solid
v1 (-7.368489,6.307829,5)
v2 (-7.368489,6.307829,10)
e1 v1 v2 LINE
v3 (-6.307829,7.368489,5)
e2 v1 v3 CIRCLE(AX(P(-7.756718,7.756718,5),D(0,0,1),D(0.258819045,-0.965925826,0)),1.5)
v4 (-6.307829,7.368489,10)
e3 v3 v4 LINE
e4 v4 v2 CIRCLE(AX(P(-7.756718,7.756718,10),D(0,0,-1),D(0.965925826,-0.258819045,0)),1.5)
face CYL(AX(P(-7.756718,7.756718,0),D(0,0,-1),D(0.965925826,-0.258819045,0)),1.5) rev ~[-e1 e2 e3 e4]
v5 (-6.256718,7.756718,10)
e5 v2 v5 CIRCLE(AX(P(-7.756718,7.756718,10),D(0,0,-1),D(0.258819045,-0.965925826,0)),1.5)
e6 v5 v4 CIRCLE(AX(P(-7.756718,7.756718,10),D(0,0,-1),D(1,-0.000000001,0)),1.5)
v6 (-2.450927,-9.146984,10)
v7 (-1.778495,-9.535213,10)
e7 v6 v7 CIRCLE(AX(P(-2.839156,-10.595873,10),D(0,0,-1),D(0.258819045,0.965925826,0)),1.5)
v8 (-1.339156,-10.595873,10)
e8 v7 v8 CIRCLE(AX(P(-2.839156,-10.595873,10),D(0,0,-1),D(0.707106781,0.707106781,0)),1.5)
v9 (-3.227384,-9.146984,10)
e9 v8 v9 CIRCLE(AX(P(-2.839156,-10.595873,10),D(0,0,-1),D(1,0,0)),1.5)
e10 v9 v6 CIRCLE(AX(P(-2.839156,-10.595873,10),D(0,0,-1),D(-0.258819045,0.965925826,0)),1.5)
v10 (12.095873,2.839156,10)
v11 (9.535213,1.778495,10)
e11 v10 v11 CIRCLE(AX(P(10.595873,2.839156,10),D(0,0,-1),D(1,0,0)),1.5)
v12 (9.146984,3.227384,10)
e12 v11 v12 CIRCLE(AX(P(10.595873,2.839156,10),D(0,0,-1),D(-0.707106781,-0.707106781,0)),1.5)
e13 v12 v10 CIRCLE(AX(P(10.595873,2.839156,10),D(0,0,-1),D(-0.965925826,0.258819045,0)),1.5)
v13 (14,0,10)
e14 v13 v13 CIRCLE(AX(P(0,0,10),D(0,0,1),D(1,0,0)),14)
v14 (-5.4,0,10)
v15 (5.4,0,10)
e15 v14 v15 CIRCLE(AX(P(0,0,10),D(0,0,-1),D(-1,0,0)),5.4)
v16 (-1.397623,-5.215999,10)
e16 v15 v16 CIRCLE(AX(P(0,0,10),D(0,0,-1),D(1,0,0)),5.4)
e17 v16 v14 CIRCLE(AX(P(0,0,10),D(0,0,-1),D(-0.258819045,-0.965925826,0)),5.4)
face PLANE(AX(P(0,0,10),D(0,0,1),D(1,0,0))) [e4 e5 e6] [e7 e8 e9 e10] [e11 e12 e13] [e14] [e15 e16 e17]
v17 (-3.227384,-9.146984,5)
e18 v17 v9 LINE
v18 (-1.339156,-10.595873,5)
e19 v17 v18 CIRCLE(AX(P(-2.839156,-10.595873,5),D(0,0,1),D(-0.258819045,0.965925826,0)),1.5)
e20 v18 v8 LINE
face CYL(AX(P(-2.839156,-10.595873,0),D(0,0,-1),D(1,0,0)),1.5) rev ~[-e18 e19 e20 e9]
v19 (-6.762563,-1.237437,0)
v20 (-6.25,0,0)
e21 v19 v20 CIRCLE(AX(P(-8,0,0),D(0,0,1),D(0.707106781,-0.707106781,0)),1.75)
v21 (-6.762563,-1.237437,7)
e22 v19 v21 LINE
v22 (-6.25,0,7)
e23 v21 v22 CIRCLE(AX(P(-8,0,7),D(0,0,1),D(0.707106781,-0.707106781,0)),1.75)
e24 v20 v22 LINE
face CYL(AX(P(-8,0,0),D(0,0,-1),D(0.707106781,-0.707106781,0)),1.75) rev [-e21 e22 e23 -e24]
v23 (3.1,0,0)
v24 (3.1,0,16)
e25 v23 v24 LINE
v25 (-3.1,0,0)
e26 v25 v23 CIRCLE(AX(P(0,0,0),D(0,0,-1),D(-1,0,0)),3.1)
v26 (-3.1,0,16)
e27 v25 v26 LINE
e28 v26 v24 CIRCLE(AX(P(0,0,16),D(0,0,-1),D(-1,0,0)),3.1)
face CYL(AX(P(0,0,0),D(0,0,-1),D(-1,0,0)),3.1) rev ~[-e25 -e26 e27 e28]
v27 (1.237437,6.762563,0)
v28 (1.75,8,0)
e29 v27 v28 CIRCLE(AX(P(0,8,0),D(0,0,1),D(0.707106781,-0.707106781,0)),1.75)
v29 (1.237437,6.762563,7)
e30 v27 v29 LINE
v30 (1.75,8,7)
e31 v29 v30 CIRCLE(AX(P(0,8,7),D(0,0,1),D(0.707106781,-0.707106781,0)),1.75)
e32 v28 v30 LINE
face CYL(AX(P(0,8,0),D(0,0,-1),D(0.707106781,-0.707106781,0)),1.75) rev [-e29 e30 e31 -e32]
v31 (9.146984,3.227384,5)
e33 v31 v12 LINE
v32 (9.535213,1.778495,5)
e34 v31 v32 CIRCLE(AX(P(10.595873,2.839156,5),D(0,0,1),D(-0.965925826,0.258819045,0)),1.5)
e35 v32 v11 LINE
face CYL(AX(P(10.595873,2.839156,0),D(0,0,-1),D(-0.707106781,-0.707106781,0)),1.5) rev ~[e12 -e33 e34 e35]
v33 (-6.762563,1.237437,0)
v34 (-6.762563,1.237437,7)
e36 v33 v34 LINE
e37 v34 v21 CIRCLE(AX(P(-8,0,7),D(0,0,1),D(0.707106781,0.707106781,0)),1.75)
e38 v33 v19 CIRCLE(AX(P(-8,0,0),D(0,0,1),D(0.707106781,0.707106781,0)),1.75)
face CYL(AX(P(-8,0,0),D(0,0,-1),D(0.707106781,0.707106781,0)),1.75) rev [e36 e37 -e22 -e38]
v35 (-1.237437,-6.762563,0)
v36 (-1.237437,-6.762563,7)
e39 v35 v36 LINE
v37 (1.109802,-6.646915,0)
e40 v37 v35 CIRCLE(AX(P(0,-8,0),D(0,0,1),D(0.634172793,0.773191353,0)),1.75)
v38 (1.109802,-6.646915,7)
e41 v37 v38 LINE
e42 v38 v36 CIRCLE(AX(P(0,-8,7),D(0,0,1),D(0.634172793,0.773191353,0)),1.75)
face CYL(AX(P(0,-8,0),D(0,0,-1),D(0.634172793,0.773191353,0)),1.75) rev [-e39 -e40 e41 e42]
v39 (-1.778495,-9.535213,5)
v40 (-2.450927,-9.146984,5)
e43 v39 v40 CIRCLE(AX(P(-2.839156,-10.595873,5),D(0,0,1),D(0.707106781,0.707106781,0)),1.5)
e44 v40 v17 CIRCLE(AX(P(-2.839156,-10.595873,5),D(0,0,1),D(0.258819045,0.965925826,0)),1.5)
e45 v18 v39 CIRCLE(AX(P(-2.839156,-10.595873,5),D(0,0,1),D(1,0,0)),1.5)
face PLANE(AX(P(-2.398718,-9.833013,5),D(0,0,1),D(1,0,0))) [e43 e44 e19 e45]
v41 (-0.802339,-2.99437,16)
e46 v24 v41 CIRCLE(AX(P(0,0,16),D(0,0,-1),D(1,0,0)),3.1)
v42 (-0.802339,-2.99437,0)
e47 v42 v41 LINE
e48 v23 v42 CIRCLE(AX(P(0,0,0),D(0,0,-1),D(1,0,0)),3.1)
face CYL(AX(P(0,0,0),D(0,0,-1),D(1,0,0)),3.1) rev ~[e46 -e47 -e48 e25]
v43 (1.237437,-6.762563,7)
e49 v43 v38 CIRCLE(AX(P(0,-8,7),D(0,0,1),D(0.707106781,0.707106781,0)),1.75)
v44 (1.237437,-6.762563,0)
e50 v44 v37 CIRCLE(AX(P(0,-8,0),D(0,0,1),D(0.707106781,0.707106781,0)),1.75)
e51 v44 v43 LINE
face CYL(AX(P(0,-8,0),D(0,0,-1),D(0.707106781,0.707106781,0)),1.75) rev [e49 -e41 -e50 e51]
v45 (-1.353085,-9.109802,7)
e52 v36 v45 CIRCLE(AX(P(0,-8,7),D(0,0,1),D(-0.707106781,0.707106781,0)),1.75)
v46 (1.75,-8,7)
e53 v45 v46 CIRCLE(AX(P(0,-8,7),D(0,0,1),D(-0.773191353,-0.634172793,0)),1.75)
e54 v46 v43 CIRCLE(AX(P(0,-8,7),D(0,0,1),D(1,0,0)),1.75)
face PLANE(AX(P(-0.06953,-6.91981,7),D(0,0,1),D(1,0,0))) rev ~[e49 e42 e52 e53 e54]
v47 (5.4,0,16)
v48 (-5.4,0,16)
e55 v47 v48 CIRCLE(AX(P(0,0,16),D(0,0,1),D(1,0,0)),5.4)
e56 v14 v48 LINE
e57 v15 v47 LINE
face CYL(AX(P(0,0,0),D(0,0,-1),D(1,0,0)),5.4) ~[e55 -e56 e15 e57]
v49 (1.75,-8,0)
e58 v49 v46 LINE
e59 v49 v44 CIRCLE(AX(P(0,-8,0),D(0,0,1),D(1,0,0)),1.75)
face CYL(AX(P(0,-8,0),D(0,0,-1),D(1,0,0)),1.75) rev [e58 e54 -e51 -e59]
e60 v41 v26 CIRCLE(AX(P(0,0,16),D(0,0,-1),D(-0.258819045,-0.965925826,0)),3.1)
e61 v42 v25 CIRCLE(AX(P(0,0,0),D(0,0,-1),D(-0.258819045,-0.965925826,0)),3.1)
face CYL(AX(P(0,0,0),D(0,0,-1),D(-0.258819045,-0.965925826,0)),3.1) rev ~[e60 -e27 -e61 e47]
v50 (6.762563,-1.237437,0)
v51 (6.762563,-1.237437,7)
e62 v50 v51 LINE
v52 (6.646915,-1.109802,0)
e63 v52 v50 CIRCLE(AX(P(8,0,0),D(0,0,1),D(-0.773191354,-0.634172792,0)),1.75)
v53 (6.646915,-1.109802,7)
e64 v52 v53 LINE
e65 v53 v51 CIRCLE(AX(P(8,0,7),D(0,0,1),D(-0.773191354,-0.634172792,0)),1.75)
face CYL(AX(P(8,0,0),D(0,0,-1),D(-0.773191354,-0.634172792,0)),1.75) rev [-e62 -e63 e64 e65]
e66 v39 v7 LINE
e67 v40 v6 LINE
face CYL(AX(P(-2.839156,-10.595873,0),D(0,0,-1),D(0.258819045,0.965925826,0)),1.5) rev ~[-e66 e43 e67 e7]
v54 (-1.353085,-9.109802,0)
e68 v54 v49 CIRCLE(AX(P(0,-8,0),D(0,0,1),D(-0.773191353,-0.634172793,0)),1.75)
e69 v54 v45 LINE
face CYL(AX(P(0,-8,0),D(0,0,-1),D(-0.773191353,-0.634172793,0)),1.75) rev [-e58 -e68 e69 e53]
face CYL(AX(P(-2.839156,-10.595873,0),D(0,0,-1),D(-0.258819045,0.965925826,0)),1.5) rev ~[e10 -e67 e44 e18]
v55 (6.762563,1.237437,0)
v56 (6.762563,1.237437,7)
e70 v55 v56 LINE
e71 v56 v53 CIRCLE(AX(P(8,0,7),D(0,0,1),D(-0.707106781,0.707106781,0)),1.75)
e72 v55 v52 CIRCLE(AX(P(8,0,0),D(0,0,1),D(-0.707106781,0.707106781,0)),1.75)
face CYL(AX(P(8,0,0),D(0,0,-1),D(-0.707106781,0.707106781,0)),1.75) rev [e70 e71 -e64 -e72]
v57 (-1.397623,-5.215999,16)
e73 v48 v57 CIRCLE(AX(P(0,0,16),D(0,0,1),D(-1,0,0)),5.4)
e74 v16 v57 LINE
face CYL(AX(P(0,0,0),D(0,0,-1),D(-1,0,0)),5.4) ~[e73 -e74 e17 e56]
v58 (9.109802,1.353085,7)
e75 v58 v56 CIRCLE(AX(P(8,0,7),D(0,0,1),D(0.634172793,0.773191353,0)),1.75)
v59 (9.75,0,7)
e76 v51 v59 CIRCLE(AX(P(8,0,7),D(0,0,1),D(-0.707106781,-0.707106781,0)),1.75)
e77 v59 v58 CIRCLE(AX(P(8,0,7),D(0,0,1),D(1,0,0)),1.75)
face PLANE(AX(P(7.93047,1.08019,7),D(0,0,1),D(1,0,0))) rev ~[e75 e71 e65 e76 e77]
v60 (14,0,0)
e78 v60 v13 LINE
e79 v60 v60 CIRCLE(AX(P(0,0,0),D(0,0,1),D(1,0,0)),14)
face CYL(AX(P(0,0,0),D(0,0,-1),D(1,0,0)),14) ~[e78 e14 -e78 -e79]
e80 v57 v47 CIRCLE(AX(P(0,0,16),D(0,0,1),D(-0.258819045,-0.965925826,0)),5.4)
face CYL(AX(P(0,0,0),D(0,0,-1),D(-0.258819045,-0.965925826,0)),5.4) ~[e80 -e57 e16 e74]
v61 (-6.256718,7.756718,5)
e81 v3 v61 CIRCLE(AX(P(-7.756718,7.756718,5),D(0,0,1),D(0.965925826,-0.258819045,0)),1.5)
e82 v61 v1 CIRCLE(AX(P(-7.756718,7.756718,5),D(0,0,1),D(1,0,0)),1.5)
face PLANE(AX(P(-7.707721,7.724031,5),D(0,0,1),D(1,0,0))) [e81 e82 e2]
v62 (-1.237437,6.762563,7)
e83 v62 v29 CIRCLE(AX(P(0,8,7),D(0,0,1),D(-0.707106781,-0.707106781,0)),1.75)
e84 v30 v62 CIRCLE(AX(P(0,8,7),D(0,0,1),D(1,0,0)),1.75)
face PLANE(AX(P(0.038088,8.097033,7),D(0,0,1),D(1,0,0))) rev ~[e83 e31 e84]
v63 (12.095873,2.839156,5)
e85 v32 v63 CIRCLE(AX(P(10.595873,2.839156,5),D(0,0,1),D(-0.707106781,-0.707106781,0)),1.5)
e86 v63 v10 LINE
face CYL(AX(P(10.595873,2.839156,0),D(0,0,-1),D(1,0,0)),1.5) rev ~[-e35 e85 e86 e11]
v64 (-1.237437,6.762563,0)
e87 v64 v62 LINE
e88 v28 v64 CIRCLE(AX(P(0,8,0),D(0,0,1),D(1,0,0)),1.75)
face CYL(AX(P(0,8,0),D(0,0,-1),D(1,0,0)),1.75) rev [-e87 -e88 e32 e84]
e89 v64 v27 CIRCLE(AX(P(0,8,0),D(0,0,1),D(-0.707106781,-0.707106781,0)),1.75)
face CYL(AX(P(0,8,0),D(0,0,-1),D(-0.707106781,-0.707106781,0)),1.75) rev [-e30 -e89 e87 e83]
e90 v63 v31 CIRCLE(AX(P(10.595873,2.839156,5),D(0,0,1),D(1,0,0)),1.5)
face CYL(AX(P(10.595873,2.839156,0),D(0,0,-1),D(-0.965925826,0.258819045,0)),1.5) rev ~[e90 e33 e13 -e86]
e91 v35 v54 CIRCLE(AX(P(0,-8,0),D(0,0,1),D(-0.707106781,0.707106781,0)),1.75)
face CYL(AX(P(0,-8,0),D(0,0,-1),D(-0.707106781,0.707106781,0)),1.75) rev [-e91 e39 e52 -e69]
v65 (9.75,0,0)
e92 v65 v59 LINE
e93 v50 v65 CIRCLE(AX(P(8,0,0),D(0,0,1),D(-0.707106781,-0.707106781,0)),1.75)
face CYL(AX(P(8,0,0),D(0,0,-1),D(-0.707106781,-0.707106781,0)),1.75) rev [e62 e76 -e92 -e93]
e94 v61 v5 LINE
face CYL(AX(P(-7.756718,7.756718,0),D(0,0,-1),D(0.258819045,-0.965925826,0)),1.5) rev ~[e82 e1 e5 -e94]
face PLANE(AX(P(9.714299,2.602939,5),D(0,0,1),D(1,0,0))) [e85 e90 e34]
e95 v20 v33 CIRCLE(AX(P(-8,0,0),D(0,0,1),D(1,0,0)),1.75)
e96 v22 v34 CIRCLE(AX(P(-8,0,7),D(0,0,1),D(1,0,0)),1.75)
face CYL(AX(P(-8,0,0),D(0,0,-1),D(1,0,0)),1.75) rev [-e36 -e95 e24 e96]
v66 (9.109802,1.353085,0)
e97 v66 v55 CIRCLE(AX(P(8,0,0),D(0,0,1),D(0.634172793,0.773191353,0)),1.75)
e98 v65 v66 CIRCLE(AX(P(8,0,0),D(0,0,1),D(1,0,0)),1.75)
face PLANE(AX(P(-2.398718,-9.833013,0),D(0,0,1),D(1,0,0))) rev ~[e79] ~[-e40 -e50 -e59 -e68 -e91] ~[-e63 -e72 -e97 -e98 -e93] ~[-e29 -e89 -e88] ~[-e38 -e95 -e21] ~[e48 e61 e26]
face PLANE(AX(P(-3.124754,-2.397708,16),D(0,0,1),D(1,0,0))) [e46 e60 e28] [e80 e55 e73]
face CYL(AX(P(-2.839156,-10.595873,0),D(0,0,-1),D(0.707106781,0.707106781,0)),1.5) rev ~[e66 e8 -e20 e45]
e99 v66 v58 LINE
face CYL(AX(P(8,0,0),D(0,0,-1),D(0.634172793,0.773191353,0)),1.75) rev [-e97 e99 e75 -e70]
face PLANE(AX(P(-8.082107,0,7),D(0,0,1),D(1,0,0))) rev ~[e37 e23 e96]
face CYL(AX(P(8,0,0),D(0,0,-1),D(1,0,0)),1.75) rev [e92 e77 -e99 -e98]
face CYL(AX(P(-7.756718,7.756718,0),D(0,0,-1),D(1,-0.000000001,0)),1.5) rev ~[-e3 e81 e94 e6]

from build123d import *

# Parameters (mm, degrees)
F0_R     = 14
F1_DEPTH = 10
F2_DEPTH = 16
F3_DEPTH = 5
F4_DEPTH = 7


with BuildPart() as f1:
    # F0 (on Top) → F1 (new body)
    with BuildSketch(Plane.XY):
        Circle(F0_R)
        with BuildLine():
            Line((-3.2273842295, -9.1469844412), (-4.8285142885, -3.1714857115))
            Line((-4.8285142885, -3.1714857115), (-6.7625631329, -1.2374368671))
            ThreePointArc((-6.7625631329, -1.2374368671), (-9.75, 0), (-6.7625631329, 1.2374368671))
            Line((-6.7625631329, 1.2374368671), (-6.1689418708, 1.8310581292))
            Line((-6.1689418708, 1.8310581292), (-7.3684889512, 6.3078287794))
            ThreePointArc((-7.3684889512, 6.3078287794), (-8.9467475293, 8.6698596623), (-6.2567175188, 7.7567175188))
            ThreePointArc((-6.2567175188, 7.7567175188), (-6.2695502268, 7.5609282305), (-6.3078287794, 7.3684889512))
            Line((-6.3078287794, 7.3684889512), (-1.8310581292, 6.1689418708))
            Line((-1.8310581292, 6.1689418708), (-1.2374368671, 6.7625631329))
            ThreePointArc((-1.2374368671, 6.7625631329), (-0.6696960066, 9.6167891819), (1.75, 8))
            ThreePointArc((1.75, 8), (1.6167891819, 7.3303039934), (1.2374368671, 6.7625631329))
            Line((1.2374368671, 6.7625631329), (3.1714857115, 4.8285142885))
            Line((3.1714857115, 4.8285142885), (9.1469844412, 3.2273842295))
            ThreePointArc((9.1469844412, 3.2273842295), (10.791662469, 4.3263229539), (12.0958731807, 2.8391556619))
            ThreePointArc((12.0958731807, 2.8391556619), (11.1698983292, 1.4533363631), (9.5352130089, 1.7784954901))
            Line((9.5352130089, 1.7784954901), (9.1098023873, 1.3530848684))
            ThreePointArc((9.1098023873, 1.3530848684), (9.581874549, 0.7484469996), (9.75, 0))
            ThreePointArc((9.75, 0), (8.6696960066, -1.6167891819), (6.7625631329, -1.2374368671))
            Line((6.7625631329, -1.2374368671), (1.2374368671, -6.7625631329))
            ThreePointArc((1.2374368671, -6.7625631329), (1.6167891819, -7.3303039934), (1.75, -8))
            ThreePointArc((1.75, -8), (0.5893222719, -9.6477861693), (-1.3530848684, -9.1098023873))
            Line((-1.3530848684, -9.1098023873), (-1.7784954901, -9.5352130089))
            ThreePointArc((-1.7784954901, -9.5352130089), (-1.4533363631, -10.0218480321), (-1.3391556619, -10.5958731807))
            ThreePointArc((-1.3391556619, -10.5958731807), (-3.7522978054, -11.7859031911), (-3.2273842295, -9.1469844412))
        make_face(mode=Mode.SUBTRACT)
        with BuildLine():
            Line((-5.6783113237, 0), (-5.4, 0))
            ThreePointArc((-5.4, 0), (0, 5.4), (5.4, 0))
            ThreePointArc((5.4, 0), (3.2873117166, -4.2841080376), (-1.3976228436, -5.215999462))
            Line((-1.3976228436, -5.215999462), (-1.6905989232, -6.3094010768))
            Line((-1.6905989232, -6.3094010768), (-1.2374368671, -6.7625631329))
            ThreePointArc((-1.2374368671, -6.7625631329), (-0.0861176821, -6.2521202144), (1.1098023873, -6.6469151316))
            Line((1.1098023873, -6.6469151316), (6.6469151316, -1.1098023873))
            ThreePointArc((6.6469151316, -1.1098023873), (6.2521202144, 0.0861176821), (6.7625631329, 1.2374368671))
            Line((6.7625631329, 1.2374368671), (3.1714857115, 4.8285142885))
            Line((3.1714857115, 4.8285142885), (-1.8310581292, 6.1689418708))
            Line((-1.8310581292, 6.1689418708), (-6.1689418708, 1.8310581292))
            Line((-6.1689418708, 1.8310581292), (-5.6783113237, 0))
        make_face()
        with BuildLine():
            Line((6.6469151316, -1.1098023873), (1.1098023873, -6.6469151316))
            ThreePointArc((1.1098023873, -6.6469151316), (1.1750432521, -6.7031679539), (1.2374368671, -6.7625631329))
            Line((1.2374368671, -6.7625631329), (6.7625631329, -1.2374368671))
            ThreePointArc((6.7625631329, -1.2374368671), (6.7031679539, -1.1750432521), (6.6469151316, -1.1098023873))
        make_face()
        with BuildLine():
            Line((9.1469844412, 3.2273842295), (3.1714857115, 4.8285142885))
            Line((3.1714857115, 4.8285142885), (6.7625631329, 1.2374368671))
            ThreePointArc((6.7625631329, 1.2374368671), (7.9138823179, 1.7478797856), (9.1098023873, 1.3530848684))
            Line((9.1098023873, 1.3530848684), (9.5352130089, 1.7784954901))
            ThreePointArc((9.5352130089, 1.7784954901), (9.1469844412, 2.4509270942), (9.1469844412, 3.2273842295))
        make_face()
        with BuildLine():
            Line((-1.2374368671, 6.7625631329), (-1.8310581292, 6.1689418708))
            Line((-1.8310581292, 6.1689418708), (3.1714857115, 4.8285142885))
            Line((3.1714857115, 4.8285142885), (1.2374368671, 6.7625631329))
            ThreePointArc((1.2374368671, 6.7625631329), (0, 6.25), (-1.2374368671, 6.7625631329))
        make_face()
        with BuildLine():
            Line((-7.3684889512, 6.3078287794), (-6.1689418708, 1.8310581292))
            Line((-6.1689418708, 1.8310581292), (-1.8310581292, 6.1689418708))
            Line((-1.8310581292, 6.1689418708), (-6.3078287794, 7.3684889512))
            ThreePointArc((-6.3078287794, 7.3684889512), (-6.696057347, 6.696057347), (-7.3684889512, 6.3078287794))
        make_face()
        with BuildLine():
            Line((-4.8285142885, -3.1714857115), (-5.6783113237, 0))
            Line((-5.6783113237, 0), (-6.25, 0))
            ThreePointArc((-6.25, 0), (-6.3832108181, -0.6696960066), (-6.7625631329, -1.2374368671))
            Line((-6.7625631329, -1.2374368671), (-4.8285142885, -3.1714857115))
        make_face()
        with BuildLine():
            Line((-6.25, 0), (-5.6783113237, 0))
            Line((-5.6783113237, 0), (-6.1689418708, 1.8310581292))
            Line((-6.1689418708, 1.8310581292), (-6.7625631329, 1.2374368671))
            ThreePointArc((-6.7625631329, 1.2374368671), (-6.3832108181, 0.6696960066), (-6.25, 0))
        make_face()
        with BuildLine():
            Line((-2.4509270942, -9.1469844412), (-1.6905989232, -6.3094010768))
            Line((-1.6905989232, -6.3094010768), (-4.8285142885, -3.1714857115))
            Line((-4.8285142885, -3.1714857115), (-3.2273842295, -9.1469844412))
            ThreePointArc((-3.2273842295, -9.1469844412), (-2.8391556619, -9.0958731807), (-2.4509270942, -9.1469844412))
        make_face()
        with BuildLine():
            Line((-1.2374368671, -6.7625631329), (-1.6905989232, -6.3094010768))
            Line((-1.6905989232, -6.3094010768), (-2.4509270942, -9.1469844412))
            ThreePointArc((-2.4509270942, -9.1469844412), (-2.0891556619, -9.296835075), (-1.7784954901, -9.5352130089))
            Line((-1.7784954901, -9.5352130089), (-1.3530848684, -9.1098023873))
            ThreePointArc((-1.3530848684, -9.1098023873), (-1.7478797856, -7.9138823179), (-1.2374368671, -6.7625631329))
        make_face()
        with BuildLine():
            ThreePointArc((-1.3976228436, -5.215999462), (-4.2841080376, -3.2873117166), (-5.4, 0))
            Line((-5.4, 0), (-5.6783113237, 0))
            Line((-5.6783113237, 0), (-4.8285142885, -3.1714857115))
            Line((-4.8285142885, -3.1714857115), (-1.6905989232, -6.3094010768))
            Line((-1.6905989232, -6.3094010768), (-1.3976228436, -5.215999462))
        make_face()
        with BuildLine():
            Line((-8, 0), (-6.25, 0))
            ThreePointArc((-6.25, 0), (-6.3832108181, 0.6696960066), (-6.7625631329, 1.2374368671))
            Line((-6.7625631329, 1.2374368671), (-8, 0))
        make_face()
        with BuildLine():
            ThreePointArc((-6.7625631329, -1.2374368671), (-6.3832108181, -0.6696960066), (-6.25, 0))
            Line((-6.25, 0), (-8, 0))
            Line((-8, 0), (-6.7625631329, -1.2374368671))
        make_face()
        with BuildLine():
            ThreePointArc((-6.7625631329, 1.2374368671), (-9.75, 0), (-6.7625631329, -1.2374368671))
            Line((-6.7625631329, -1.2374368671), (-8, 0))
            Line((-8, 0), (-6.7625631329, 1.2374368671))
        make_face()
        with BuildLine():
            ThreePointArc((1.75, 8), (-0.6696960066, 9.6167891819), (-1.2374368671, 6.7625631329))
            Line((-1.2374368671, 6.7625631329), (0, 8))
            Line((0, 8), (1.2374368671, 6.7625631329))
            ThreePointArc((1.2374368671, 6.7625631329), (1.6167891819, 7.3303039934), (1.75, 8))
        make_face()
        with BuildLine():
            Line((0, 8), (-1.2374368671, 6.7625631329))
            ThreePointArc((-1.2374368671, 6.7625631329), (0, 6.25), (1.2374368671, 6.7625631329))
            Line((1.2374368671, 6.7625631329), (0, 8))
        make_face()
        with BuildLine():
            Line((9.1098023873, 1.3530848684), (7.8783587594, 0.1216412406))
            Line((7.8783587594, 0.1216412406), (8, 0))
            Line((8, 0), (6.7625631329, -1.2374368671))
            ThreePointArc((6.7625631329, -1.2374368671), (8.6696960066, -1.6167891819), (9.75, 0))
            ThreePointArc((9.75, 0), (9.581874549, 0.7484469996), (9.1098023873, 1.3530848684))
        make_face()
        with BuildLine():
            ThreePointArc((6.7625631329, 1.2374368671), (6.2521202144, 0.0861176821), (6.6469151316, -1.1098023873))
            Line((6.6469151316, -1.1098023873), (7.8783587594, 0.1216412406))
            Line((7.8783587594, 0.1216412406), (6.7625631329, 1.2374368671))
        make_face()
        with BuildLine():
            Line((0, -8), (-0.1216412406, -7.8783587594))
            Line((-0.1216412406, -7.8783587594), (-1.3530848684, -9.1098023873))
            ThreePointArc((-1.3530848684, -9.1098023873), (0.5893222719, -9.6477861693), (1.75, -8))
            ThreePointArc((1.75, -8), (1.6167891819, -7.3303039934), (1.2374368671, -6.7625631329))
            Line((1.2374368671, -6.7625631329), (0, -8))
        make_face()
        with BuildLine():
            ThreePointArc((1.1098023873, -6.6469151316), (-0.0861176821, -6.2521202144), (-1.2374368671, -6.7625631329))
            Line((-1.2374368671, -6.7625631329), (-0.1216412406, -7.8783587594))
            Line((-0.1216412406, -7.8783587594), (1.1098023873, -6.6469151316))
        make_face()
        with BuildLine():
            Line((-0.1216412406, -7.8783587594), (-1.2374368671, -6.7625631329))
            ThreePointArc((-1.2374368671, -6.7625631329), (-1.7478797856, -7.9138823179), (-1.3530848684, -9.1098023873))
            Line((-1.3530848684, -9.1098023873), (-0.1216412406, -7.8783587594))
        make_face()
        with BuildLine():
            Line((1.1098023873, -6.6469151316), (-0.1216412406, -7.8783587594))
            Line((-0.1216412406, -7.8783587594), (0, -8))
            Line((0, -8), (1.2374368671, -6.7625631329))
            ThreePointArc((1.2374368671, -6.7625631329), (1.1750432521, -6.7031679539), (1.1098023873, -6.6469151316))
        make_face()
        with BuildLine():
            ThreePointArc((9.1098023873, 1.3530848684), (7.9138823179, 1.7478797856), (6.7625631329, 1.2374368671))
            Line((6.7625631329, 1.2374368671), (7.8783587594, 0.1216412406))
            Line((7.8783587594, 0.1216412406), (9.1098023873, 1.3530848684))
        make_face()
        with BuildLine():
            Line((7.8783587594, 0.1216412406), (6.6469151316, -1.1098023873))
            ThreePointArc((6.6469151316, -1.1098023873), (6.7031679539, -1.1750432521), (6.7625631329, -1.2374368671))
            Line((6.7625631329, -1.2374368671), (8, 0))
            Line((8, 0), (7.8783587594, 0.1216412406))
        make_face()
    extrude(amount=F1_DEPTH)

    # F0 (on Top) → F2 (join)
    with BuildSketch(Plane.XY):
        with BuildLine():
            ThreePointArc((-0.8023390398, -2.9943700615), (-2.4593953549, -1.8871604299), (-3.1, 0))
            Line((-3.1, 0), (-5.4, 0))
            ThreePointArc((-5.4, 0), (-4.2841080376, -3.2873117166), (-1.3976228436, -5.215999462))
            Line((-1.3976228436, -5.215999462), (-0.8023390398, -2.9943700615))
        make_face()
        with BuildLine():
            ThreePointArc((-3.1, 0), (0, 3.1), (3.1, 0))
            ThreePointArc((3.1, 0), (1.8871604299, -2.4593953549), (-0.8023390398, -2.9943700615))
            Line((-0.8023390398, -2.9943700615), (-1.3976228436, -5.215999462))
            ThreePointArc((-1.3976228436, -5.215999462), (3.2873117166, -4.2841080376), (5.4, 0))
            ThreePointArc((5.4, 0), (0, 5.4), (-5.4, 0))
            Line((-5.4, 0), (-3.1, 0))
        make_face()
    extrude(amount=F2_DEPTH)

    # F0 (on Top) → F3 (join)
    with BuildSketch(Plane.XY):
        with BuildLine():
            ThreePointArc((-1.7784954901, -9.5352130089), (-2.0891556619, -9.296835075), (-2.4509270942, -9.1469844412))
            Line((-2.4509270942, -9.1469844412), (-2.8391556619, -10.5958731807))
            Line((-2.8391556619, -10.5958731807), (-1.7784954901, -9.5352130089))
        make_face()
        with BuildLine():
            Line((-2.8391556619, -10.5958731807), (-2.4509270942, -9.1469844412))
            ThreePointArc((-2.4509270942, -9.1469844412), (-2.8391556619, -9.0958731807), (-3.2273842295, -9.1469844412))
            Line((-3.2273842295, -9.1469844412), (-2.8391556619, -10.5958731807))
        make_face()
        with BuildLine():
            Line((-2.8391556619, -10.5958731807), (-3.2273842295, -9.1469844412))
            ThreePointArc((-3.2273842295, -9.1469844412), (-3.7522978054, -11.7859031911), (-1.3391556619, -10.5958731807))
            ThreePointArc((-1.3391556619, -10.5958731807), (-1.4533363631, -10.0218480321), (-1.7784954901, -9.5352130089))
            Line((-1.7784954901, -9.5352130089), (-2.8391556619, -10.5958731807))
        make_face()
        with BuildLine():
            Line((10.5958731807, 2.8391556619), (9.1469844412, 3.2273842295))
            ThreePointArc((9.1469844412, 3.2273842295), (9.1469844412, 2.4509270942), (9.5352130089, 1.7784954901))
            Line((9.5352130089, 1.7784954901), (10.5958731807, 2.8391556619))
        make_face()
        with BuildLine():
            ThreePointArc((12.0958731807, 2.8391556619), (10.791662469, 4.3263229539), (9.1469844412, 3.2273842295))
            Line((9.1469844412, 3.2273842295), (10.5958731807, 2.8391556619))
            Line((10.5958731807, 2.8391556619), (9.5352130089, 1.7784954901))
            ThreePointArc((9.5352130089, 1.7784954901), (11.1698983292, 1.4533363631), (12.0958731807, 2.8391556619))
        make_face()
        with BuildLine():
            ThreePointArc((-6.2567175188, 7.7567175188), (-8.9467475293, 8.6698596623), (-7.3684889512, 6.3078287794))
            Line((-7.3684889512, 6.3078287794), (-7.7567175188, 7.7567175188))
            Line((-7.7567175188, 7.7567175188), (-6.3078287794, 7.3684889512))
            ThreePointArc((-6.3078287794, 7.3684889512), (-6.2695502268, 7.5609282305), (-6.2567175188, 7.7567175188))
        make_face()
        with BuildLine():
            Line((-7.7567175188, 7.7567175188), (-7.3684889512, 6.3078287794))
            ThreePointArc((-7.3684889512, 6.3078287794), (-6.696057347, 6.696057347), (-6.3078287794, 7.3684889512))
            Line((-6.3078287794, 7.3684889512), (-7.7567175188, 7.7567175188))
        make_face()
    extrude(amount=F3_DEPTH)

    # F0 (on Top) → F4 (cut)
    with BuildSketch(Plane.XY):
        with BuildLine():
            ThreePointArc((1.75, 8), (-0.6696960066, 9.6167891819), (-1.2374368671, 6.7625631329))
            Line((-1.2374368671, 6.7625631329), (0, 8))
            Line((0, 8), (1.2374368671, 6.7625631329))
            ThreePointArc((1.2374368671, 6.7625631329), (1.6167891819, 7.3303039934), (1.75, 8))
        make_face()
        with BuildLine():
            Line((0, 8), (-1.2374368671, 6.7625631329))
            ThreePointArc((-1.2374368671, 6.7625631329), (0, 6.25), (1.2374368671, 6.7625631329))
            Line((1.2374368671, 6.7625631329), (0, 8))
        make_face()
        with BuildLine():
            ThreePointArc((-6.7625631329, 1.2374368671), (-9.75, 0), (-6.7625631329, -1.2374368671))
            Line((-6.7625631329, -1.2374368671), (-8, 0))
            Line((-8, 0), (-6.7625631329, 1.2374368671))
        make_face()
        with BuildLine():
            ThreePointArc((-6.7625631329, -1.2374368671), (-6.3832108181, -0.6696960066), (-6.25, 0))
            Line((-6.25, 0), (-8, 0))
            Line((-8, 0), (-6.7625631329, -1.2374368671))
        make_face()
        with BuildLine():
            Line((-8, 0), (-6.25, 0))
            ThreePointArc((-6.25, 0), (-6.3832108181, 0.6696960066), (-6.7625631329, 1.2374368671))
            Line((-6.7625631329, 1.2374368671), (-8, 0))
        make_face()
        with BuildLine():
            ThreePointArc((1.1098023873, -6.6469151316), (-0.0861176821, -6.2521202144), (-1.2374368671, -6.7625631329))
            Line((-1.2374368671, -6.7625631329), (-0.1216412406, -7.8783587594))
            Line((-0.1216412406, -7.8783587594), (1.1098023873, -6.6469151316))
        make_face()
        with BuildLine():
            Line((-0.1216412406, -7.8783587594), (-1.2374368671, -6.7625631329))
            ThreePointArc((-1.2374368671, -6.7625631329), (-1.7478797856, -7.9138823179), (-1.3530848684, -9.1098023873))
            Line((-1.3530848684, -9.1098023873), (-0.1216412406, -7.8783587594))
        make_face()
        with BuildLine():
            Line((1.1098023873, -6.6469151316), (-0.1216412406, -7.8783587594))
            Line((-0.1216412406, -7.8783587594), (0, -8))
            Line((0, -8), (1.2374368671, -6.7625631329))
            ThreePointArc((1.2374368671, -6.7625631329), (1.1750432521, -6.7031679539), (1.1098023873, -6.6469151316))
        make_face()
        with BuildLine():
            Line((0, -8), (-0.1216412406, -7.8783587594))
            Line((-0.1216412406, -7.8783587594), (-1.3530848684, -9.1098023873))
            ThreePointArc((-1.3530848684, -9.1098023873), (0.5893222719, -9.6477861693), (1.75, -8))
            ThreePointArc((1.75, -8), (1.6167891819, -7.3303039934), (1.2374368671, -6.7625631329))
            Line((1.2374368671, -6.7625631329), (0, -8))
        make_face()
        with BuildLine():
            ThreePointArc((9.1098023873, 1.3530848684), (7.9138823179, 1.7478797856), (6.7625631329, 1.2374368671))
            Line((6.7625631329, 1.2374368671), (7.8783587594, 0.1216412406))
            Line((7.8783587594, 0.1216412406), (9.1098023873, 1.3530848684))
        make_face()
        with BuildLine():
            ThreePointArc((6.7625631329, 1.2374368671), (6.2521202144, 0.0861176821), (6.6469151316, -1.1098023873))
            Line((6.6469151316, -1.1098023873), (7.8783587594, 0.1216412406))
            Line((7.8783587594, 0.1216412406), (6.7625631329, 1.2374368671))
        make_face()
        with BuildLine():
            Line((9.1098023873, 1.3530848684), (7.8783587594, 0.1216412406))
            Line((7.8783587594, 0.1216412406), (8, 0))
            Line((8, 0), (6.7625631329, -1.2374368671))
            ThreePointArc((6.7625631329, -1.2374368671), (8.6696960066, -1.6167891819), (9.75, 0))
            ThreePointArc((9.75, 0), (9.581874549, 0.7484469996), (9.1098023873, 1.3530848684))
        make_face()
        with BuildLine():
            Line((7.8783587594, 0.1216412406), (6.6469151316, -1.1098023873))
            ThreePointArc((6.6469151316, -1.1098023873), (6.7031679539, -1.1750432521), (6.7625631329, -1.2374368671))
            Line((6.7625631329, -1.2374368671), (8, 0))
            Line((8, 0), (7.8783587594, 0.1216412406))
        make_face()
    extrude(amount=F4_DEPTH, mode=Mode.SUBTRACT)


solid = f1.part
